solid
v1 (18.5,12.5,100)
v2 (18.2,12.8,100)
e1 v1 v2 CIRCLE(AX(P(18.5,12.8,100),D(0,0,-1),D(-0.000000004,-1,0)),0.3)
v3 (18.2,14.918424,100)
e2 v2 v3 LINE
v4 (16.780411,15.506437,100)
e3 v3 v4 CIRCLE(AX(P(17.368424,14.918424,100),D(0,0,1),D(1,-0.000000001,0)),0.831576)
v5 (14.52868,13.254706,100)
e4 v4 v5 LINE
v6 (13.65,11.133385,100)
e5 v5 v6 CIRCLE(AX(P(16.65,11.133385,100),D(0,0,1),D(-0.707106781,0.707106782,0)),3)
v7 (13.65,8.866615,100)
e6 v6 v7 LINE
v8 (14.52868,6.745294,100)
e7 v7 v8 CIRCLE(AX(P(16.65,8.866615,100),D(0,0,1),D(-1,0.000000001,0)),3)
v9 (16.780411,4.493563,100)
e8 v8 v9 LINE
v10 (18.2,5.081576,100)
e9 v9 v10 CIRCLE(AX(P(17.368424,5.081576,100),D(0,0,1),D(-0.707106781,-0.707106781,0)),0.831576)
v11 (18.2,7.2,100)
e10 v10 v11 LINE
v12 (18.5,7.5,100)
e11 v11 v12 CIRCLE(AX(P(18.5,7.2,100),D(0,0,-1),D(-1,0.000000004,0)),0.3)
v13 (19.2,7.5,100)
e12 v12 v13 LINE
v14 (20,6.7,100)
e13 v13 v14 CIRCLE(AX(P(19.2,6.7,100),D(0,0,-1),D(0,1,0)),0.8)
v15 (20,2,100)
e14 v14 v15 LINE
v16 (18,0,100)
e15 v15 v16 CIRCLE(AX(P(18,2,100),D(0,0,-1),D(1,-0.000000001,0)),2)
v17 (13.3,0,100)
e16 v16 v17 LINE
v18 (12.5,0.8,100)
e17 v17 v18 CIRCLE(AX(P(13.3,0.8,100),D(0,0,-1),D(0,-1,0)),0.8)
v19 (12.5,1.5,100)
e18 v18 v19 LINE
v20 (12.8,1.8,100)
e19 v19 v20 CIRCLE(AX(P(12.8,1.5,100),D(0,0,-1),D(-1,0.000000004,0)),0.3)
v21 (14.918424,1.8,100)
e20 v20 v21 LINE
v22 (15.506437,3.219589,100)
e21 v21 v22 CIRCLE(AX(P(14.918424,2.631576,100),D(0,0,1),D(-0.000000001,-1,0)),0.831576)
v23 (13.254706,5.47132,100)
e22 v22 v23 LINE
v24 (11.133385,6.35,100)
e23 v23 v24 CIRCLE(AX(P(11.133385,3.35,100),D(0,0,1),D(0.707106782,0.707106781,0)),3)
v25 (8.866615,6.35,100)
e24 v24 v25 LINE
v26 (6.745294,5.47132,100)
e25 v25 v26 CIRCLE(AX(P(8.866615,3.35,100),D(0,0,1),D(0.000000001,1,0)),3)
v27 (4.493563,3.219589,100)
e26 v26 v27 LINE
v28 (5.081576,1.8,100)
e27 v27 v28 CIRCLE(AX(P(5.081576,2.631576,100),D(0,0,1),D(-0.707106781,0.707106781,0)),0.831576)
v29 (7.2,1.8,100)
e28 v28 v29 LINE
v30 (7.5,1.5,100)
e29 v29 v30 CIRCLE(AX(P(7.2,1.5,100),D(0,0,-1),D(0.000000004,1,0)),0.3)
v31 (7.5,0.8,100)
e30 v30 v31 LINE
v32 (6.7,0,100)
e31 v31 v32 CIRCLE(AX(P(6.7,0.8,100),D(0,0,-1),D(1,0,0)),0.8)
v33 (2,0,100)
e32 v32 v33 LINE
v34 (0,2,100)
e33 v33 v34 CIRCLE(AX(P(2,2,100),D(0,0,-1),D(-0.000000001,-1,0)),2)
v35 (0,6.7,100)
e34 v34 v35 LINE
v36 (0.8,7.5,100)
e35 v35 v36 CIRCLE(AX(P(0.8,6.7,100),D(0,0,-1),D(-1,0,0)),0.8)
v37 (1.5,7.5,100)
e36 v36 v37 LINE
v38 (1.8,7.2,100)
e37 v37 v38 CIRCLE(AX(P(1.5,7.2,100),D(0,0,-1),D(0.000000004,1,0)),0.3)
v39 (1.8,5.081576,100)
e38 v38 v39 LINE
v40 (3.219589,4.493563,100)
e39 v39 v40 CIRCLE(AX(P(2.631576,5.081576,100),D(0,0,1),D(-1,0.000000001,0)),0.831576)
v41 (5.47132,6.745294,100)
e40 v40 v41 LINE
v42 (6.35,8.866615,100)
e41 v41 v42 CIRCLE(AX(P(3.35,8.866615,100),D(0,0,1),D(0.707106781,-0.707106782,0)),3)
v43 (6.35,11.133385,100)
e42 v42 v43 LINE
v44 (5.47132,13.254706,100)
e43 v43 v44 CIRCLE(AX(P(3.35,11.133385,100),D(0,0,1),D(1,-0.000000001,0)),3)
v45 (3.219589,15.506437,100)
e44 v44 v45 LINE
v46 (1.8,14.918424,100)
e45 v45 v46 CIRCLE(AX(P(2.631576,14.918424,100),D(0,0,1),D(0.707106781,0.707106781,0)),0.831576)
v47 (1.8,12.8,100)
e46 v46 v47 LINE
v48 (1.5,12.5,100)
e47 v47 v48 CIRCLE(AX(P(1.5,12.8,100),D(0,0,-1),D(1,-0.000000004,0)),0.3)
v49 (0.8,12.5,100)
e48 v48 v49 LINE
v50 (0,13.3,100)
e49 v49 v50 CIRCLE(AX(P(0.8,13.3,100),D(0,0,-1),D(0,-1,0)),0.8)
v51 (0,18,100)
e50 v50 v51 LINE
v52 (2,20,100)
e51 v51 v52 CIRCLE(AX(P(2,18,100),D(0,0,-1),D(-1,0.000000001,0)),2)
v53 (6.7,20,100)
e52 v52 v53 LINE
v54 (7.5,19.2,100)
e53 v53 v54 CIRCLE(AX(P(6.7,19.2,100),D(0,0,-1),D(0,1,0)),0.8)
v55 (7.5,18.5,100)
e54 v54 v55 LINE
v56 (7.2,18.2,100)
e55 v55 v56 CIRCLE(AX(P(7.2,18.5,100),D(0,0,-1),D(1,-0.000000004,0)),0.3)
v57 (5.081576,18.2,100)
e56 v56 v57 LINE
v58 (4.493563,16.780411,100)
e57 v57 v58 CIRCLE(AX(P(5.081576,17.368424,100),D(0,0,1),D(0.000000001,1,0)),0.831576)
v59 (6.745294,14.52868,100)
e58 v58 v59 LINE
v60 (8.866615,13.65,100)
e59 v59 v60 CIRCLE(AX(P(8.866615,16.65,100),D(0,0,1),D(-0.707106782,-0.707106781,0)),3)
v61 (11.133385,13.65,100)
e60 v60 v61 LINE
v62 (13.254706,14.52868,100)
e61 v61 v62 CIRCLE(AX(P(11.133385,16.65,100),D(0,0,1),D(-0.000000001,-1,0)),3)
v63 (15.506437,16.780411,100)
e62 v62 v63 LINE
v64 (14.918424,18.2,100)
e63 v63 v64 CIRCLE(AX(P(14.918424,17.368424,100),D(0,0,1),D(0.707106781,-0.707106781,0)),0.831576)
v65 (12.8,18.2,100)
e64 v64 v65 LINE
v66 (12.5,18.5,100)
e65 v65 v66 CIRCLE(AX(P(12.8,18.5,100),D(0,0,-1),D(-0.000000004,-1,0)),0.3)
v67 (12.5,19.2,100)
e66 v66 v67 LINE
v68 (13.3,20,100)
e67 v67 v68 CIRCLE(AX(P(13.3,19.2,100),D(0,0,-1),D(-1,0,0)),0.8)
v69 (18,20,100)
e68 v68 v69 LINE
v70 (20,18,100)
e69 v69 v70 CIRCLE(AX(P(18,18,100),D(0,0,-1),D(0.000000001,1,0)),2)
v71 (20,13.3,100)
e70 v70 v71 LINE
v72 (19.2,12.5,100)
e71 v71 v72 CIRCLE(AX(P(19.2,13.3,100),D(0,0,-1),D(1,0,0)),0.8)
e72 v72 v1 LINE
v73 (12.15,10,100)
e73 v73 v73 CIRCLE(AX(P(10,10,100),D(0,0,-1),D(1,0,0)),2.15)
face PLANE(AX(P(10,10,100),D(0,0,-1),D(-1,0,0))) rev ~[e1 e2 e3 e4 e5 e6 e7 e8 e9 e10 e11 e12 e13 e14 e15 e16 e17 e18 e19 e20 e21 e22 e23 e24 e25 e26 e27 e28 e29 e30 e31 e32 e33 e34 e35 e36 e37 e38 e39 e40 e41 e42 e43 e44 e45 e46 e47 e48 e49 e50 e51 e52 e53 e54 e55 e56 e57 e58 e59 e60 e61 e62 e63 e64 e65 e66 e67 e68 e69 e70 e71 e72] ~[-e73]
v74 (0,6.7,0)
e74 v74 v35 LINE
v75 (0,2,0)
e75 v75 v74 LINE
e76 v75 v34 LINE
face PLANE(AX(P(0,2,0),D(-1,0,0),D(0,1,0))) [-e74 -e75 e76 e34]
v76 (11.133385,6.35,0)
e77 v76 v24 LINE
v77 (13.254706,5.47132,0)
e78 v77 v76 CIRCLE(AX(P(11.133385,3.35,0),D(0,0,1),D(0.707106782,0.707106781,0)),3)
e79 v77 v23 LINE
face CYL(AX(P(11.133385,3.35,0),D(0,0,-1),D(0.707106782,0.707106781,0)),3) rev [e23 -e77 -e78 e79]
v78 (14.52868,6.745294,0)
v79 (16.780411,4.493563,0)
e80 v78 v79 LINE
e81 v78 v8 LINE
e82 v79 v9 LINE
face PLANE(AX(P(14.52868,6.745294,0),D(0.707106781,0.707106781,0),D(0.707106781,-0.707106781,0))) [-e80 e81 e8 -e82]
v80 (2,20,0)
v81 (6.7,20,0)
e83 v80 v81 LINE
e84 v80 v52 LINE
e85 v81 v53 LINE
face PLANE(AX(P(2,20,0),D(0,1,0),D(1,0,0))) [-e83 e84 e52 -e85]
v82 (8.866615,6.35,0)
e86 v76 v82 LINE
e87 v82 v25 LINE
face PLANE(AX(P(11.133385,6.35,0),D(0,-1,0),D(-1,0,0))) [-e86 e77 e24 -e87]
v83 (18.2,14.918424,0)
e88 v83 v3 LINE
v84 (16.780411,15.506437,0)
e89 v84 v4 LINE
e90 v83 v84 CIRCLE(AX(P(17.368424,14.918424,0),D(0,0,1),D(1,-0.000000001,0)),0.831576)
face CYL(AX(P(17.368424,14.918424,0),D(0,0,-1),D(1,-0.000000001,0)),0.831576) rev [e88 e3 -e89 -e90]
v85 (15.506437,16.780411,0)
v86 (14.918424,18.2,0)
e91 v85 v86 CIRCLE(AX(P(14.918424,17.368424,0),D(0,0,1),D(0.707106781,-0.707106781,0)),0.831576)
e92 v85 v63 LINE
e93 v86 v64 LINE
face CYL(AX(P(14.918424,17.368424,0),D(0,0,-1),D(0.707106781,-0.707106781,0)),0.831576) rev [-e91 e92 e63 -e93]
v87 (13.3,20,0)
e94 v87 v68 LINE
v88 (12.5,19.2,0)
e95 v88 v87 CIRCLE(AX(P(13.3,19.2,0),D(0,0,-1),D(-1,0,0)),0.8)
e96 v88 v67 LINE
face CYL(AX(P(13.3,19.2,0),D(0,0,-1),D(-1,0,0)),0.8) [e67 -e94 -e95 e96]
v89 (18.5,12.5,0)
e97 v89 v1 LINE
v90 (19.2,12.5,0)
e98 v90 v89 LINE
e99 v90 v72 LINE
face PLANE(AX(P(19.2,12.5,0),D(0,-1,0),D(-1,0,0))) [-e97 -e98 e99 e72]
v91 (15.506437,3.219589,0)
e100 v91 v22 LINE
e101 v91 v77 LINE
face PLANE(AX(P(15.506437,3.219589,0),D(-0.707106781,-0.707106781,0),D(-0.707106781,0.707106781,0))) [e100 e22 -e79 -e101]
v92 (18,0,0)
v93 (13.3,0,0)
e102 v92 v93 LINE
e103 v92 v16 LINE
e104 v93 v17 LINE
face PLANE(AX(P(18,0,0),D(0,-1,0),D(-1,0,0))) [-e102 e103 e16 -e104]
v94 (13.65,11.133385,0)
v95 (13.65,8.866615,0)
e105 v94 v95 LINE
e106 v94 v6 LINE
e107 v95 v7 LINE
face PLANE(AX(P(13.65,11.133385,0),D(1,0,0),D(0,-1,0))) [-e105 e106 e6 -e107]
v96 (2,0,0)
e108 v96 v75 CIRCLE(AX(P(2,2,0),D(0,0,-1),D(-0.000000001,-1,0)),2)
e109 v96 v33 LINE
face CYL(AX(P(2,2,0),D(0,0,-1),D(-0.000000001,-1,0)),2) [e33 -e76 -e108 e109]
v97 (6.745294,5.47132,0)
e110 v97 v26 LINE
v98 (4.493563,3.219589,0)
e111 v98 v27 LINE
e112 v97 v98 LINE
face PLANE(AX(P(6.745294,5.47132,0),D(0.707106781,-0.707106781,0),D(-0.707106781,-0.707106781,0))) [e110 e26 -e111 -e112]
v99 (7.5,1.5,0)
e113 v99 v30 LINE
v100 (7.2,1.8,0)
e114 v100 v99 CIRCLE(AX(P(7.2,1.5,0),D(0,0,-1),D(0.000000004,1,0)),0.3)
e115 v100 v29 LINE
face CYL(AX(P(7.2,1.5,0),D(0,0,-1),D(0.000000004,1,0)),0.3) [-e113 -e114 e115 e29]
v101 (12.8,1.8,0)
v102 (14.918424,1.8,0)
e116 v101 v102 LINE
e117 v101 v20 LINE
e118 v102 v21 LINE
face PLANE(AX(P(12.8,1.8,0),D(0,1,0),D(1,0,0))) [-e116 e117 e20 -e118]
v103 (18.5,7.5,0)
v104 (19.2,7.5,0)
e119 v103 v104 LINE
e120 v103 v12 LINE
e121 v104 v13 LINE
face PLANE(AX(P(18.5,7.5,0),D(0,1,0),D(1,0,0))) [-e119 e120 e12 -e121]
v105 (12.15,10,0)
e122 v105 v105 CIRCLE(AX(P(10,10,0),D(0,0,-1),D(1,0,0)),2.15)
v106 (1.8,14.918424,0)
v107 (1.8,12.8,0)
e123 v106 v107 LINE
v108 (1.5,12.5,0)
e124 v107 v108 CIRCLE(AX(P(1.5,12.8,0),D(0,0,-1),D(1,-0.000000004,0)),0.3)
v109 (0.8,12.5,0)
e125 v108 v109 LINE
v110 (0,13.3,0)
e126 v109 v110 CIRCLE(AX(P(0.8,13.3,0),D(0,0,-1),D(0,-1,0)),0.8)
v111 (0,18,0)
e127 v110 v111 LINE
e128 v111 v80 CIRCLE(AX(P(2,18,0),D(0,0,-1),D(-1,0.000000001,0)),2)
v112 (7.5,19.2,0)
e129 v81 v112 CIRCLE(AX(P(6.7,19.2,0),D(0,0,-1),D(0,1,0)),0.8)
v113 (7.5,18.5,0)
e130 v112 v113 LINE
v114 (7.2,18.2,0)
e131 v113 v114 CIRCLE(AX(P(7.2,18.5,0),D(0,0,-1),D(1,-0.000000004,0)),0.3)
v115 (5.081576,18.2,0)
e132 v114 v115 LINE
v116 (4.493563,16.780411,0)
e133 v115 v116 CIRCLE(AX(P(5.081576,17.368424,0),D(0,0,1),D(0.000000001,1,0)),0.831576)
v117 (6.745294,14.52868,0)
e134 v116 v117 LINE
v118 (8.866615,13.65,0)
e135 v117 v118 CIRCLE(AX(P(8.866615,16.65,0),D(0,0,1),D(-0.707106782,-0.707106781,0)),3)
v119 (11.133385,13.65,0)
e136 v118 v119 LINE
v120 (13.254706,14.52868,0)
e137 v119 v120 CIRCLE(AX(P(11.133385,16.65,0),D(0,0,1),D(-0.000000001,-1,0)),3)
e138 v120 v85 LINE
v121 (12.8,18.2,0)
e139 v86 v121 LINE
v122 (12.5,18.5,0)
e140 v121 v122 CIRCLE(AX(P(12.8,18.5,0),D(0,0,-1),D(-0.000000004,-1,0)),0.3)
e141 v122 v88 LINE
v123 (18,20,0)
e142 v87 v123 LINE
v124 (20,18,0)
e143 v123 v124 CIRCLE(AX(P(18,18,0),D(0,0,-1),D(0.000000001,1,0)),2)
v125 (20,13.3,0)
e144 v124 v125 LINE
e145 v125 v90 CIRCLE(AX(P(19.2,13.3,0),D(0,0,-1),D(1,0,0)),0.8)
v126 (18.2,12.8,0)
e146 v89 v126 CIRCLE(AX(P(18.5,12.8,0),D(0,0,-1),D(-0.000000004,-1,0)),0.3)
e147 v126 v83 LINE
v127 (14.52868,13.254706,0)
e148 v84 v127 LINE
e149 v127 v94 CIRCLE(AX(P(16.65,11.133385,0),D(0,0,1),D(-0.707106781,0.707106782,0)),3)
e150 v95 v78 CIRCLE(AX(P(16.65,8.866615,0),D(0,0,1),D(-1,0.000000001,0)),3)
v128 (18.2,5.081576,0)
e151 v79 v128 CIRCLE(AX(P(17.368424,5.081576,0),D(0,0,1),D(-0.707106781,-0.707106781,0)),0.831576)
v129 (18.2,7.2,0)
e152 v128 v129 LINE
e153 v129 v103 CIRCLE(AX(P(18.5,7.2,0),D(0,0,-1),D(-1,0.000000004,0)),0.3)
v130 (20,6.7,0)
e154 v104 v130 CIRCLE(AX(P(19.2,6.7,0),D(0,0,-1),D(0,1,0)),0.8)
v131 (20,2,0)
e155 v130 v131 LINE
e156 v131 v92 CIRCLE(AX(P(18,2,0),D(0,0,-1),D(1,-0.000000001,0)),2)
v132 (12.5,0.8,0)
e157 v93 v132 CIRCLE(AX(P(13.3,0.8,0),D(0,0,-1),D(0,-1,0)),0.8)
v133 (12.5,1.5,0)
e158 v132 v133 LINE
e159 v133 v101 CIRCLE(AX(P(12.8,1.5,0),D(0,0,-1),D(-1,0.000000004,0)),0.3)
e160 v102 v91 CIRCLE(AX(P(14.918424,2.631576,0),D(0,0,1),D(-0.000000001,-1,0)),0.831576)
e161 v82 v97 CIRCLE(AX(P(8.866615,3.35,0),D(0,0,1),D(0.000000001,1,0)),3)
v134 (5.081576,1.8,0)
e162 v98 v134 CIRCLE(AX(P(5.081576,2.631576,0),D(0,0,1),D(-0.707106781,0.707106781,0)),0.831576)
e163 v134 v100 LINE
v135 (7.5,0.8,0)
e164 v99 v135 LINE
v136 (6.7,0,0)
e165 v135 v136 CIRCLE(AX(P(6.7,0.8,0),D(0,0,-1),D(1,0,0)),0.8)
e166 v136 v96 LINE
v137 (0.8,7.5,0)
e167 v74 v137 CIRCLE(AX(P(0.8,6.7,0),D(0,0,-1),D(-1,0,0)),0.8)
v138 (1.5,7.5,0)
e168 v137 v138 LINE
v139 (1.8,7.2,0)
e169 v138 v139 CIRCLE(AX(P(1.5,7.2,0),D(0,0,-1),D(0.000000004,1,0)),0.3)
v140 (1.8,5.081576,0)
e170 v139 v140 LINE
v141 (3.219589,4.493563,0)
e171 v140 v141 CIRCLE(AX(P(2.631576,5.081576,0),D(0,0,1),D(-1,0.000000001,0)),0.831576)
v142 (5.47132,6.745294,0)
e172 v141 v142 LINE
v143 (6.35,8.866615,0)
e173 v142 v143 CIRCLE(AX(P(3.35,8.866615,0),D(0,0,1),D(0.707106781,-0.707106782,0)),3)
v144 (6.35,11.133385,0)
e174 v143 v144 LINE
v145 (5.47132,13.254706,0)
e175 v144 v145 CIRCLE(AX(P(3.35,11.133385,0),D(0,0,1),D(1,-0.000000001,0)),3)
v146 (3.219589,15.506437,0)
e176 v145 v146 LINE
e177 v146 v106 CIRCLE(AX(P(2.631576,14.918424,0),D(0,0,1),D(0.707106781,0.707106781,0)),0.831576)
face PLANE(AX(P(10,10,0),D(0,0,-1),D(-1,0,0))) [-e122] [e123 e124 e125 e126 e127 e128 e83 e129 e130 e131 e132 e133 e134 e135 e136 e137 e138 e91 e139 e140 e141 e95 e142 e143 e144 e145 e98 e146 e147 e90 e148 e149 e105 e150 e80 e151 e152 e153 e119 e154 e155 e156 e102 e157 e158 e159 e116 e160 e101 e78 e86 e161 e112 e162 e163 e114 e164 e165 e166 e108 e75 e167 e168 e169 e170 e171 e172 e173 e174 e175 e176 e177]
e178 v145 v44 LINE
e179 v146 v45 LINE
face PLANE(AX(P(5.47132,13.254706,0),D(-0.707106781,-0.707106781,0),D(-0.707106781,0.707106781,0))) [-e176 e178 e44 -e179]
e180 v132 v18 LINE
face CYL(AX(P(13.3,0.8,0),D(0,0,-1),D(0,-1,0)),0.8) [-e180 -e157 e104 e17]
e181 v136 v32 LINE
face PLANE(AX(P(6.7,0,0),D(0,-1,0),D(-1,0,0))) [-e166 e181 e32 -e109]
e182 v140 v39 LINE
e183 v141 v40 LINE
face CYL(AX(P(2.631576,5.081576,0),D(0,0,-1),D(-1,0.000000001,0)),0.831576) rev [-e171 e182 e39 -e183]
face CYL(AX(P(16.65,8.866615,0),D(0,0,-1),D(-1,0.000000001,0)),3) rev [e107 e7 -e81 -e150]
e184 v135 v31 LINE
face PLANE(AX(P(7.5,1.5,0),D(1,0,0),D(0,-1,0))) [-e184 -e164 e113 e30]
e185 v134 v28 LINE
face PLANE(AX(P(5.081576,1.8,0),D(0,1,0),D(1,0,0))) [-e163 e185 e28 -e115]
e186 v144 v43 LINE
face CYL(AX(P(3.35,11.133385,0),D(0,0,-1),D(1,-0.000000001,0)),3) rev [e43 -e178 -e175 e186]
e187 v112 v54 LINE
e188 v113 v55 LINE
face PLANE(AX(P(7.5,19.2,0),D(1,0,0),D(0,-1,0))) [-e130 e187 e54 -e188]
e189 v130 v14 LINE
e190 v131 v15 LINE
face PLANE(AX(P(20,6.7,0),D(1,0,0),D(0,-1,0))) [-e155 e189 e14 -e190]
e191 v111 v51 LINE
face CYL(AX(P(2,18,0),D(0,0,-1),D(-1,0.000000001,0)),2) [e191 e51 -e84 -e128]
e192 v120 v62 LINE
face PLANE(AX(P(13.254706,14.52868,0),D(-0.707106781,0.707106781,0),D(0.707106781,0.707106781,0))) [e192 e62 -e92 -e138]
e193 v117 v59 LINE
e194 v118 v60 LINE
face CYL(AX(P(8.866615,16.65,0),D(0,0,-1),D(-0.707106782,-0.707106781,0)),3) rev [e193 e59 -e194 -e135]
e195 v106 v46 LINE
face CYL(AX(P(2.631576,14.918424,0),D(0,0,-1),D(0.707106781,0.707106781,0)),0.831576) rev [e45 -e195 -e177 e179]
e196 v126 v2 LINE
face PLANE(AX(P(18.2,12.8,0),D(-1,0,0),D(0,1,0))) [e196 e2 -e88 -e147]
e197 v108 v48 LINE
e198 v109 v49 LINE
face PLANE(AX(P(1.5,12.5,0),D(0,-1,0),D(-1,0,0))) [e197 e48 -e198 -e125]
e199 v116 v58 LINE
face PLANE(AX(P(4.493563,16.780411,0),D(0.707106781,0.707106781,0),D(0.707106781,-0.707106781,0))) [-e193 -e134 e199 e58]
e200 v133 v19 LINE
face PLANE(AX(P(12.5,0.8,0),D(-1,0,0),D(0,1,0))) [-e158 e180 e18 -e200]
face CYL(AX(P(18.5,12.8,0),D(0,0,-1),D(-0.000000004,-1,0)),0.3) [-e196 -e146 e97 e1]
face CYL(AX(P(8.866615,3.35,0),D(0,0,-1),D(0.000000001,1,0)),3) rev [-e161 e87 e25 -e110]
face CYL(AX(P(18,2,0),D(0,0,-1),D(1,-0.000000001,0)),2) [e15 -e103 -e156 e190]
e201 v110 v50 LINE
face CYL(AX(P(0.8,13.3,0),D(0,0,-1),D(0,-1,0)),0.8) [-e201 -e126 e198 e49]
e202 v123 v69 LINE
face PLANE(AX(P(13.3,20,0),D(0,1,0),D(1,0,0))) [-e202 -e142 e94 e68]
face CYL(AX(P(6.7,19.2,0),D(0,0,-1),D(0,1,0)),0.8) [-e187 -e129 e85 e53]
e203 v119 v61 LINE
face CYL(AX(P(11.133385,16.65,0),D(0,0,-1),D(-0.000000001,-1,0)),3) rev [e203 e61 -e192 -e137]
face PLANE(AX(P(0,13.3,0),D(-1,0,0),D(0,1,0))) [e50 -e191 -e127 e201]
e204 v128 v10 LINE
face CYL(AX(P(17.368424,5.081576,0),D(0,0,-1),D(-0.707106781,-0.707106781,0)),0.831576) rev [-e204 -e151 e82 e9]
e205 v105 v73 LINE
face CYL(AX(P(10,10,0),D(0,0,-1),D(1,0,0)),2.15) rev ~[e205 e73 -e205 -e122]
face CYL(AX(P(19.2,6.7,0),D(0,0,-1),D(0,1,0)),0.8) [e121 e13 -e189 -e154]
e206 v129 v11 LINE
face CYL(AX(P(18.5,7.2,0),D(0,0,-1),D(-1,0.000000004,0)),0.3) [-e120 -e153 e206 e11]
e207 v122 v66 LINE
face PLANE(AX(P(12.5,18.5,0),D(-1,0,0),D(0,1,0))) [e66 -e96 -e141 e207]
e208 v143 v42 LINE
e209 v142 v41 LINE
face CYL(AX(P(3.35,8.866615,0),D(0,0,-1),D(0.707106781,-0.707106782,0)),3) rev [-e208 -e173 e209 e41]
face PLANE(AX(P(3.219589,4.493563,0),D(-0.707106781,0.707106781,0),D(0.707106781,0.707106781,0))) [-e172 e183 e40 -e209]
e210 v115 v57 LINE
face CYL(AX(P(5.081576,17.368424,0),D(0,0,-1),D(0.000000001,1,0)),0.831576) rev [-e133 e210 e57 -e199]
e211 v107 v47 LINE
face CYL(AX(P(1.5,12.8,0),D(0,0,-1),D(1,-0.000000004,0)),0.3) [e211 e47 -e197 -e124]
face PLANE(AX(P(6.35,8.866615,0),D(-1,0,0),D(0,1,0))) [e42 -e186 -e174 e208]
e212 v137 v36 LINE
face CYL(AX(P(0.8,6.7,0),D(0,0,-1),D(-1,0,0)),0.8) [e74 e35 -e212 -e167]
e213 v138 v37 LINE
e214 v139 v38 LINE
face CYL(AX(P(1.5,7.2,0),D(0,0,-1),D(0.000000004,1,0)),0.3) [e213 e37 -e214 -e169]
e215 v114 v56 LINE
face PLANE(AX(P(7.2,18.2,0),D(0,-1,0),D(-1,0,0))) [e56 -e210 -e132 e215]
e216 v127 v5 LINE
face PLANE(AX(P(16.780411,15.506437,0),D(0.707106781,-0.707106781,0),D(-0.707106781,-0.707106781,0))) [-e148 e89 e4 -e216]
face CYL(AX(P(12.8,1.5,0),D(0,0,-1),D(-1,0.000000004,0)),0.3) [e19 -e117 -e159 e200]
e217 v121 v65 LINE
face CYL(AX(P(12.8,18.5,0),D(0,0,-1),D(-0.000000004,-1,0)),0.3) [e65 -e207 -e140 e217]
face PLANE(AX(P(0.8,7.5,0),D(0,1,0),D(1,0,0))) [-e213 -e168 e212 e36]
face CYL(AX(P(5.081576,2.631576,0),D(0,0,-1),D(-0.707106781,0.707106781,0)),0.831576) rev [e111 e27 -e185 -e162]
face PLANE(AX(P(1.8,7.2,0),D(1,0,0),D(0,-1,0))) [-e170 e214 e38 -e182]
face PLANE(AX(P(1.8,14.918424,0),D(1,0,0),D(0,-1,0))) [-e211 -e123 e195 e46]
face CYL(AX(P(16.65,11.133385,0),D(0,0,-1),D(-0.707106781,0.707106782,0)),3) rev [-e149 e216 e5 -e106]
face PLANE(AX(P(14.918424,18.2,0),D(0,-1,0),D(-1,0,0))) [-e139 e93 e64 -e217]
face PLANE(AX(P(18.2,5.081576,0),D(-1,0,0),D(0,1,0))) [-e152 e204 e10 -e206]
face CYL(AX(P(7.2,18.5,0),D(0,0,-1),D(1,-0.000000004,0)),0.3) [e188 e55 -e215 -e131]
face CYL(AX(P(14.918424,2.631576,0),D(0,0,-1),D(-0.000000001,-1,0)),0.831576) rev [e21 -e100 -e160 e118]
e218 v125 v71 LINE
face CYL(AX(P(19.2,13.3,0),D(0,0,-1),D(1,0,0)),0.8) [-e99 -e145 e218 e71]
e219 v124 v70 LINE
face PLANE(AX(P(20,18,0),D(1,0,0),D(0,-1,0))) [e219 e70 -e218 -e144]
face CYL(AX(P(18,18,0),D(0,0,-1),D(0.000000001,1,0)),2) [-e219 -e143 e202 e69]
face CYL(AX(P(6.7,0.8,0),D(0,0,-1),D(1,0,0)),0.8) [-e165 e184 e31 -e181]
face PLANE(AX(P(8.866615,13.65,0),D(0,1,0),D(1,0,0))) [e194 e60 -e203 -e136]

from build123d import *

# Parameters (mm, degrees)
ESQUISSE1_R      = 2.15
EXTRUSION1_DEPTH = 100


with BuildPart() as part:
    # Esquisse1 → Extrusion1 (new body)
    with BuildSketch(Plane(origin=(0, 0, 0), x_dir=(-1, 0, 0), z_dir=(0, 0, -1))):
        with BuildLine():
            Line((-18, 0), (-13.3, 0))
            ThreePointArc((-13.3, 0), (-12.734314575, 0.234314575), (-12.5, 0.8))
            Line((-12.5, 0.8), (-12.5, 1.5))
            ThreePointArc((-12.5, 1.5), (-12.587867966, 1.712132034), (-12.8, 1.8))
            Line((-12.8, 1.8), (-14.918424061, 1.8))
            ThreePointArc((-14.918424061, 1.8), (-15.686700051, 2.313345604), (-15.506437047, 3.219588924))
            Line((-15.506437047, 3.219588924), (-13.254705627, 5.471320344))
            ThreePointArc((-13.254705627, 5.471320344), (-12.281435581, 6.121638598), (-11.133385284, 6.35))
            Line((-11.133385284, 6.35), (-8.866614716, 6.35))
            ThreePointArc((-8.866614716, 6.35), (-7.718564419, 6.121638598), (-6.745294373, 5.471320344))
            Line((-6.745294373, 5.471320344), (-4.493562953, 3.219588924))
            ThreePointArc((-4.493562953, 3.219588924), (-4.313299949, 2.313345604), (-5.081575939, 1.8))
            Line((-5.081575939, 1.8), (-7.2, 1.8))
            ThreePointArc((-7.2, 1.8), (-7.412132034, 1.712132034), (-7.5, 1.5))
            Line((-7.5, 1.5), (-7.5, 0.8))
            ThreePointArc((-7.5, 0.8), (-7.265685425, 0.234314575), (-6.7, 0))
            Line((-6.7, 0), (-2, 0))
            ThreePointArc((-2, 0), (-0.585786438, 0.585786438), (0, 2))
            Line((0, 2), (0, 6.7))
            ThreePointArc((0, 6.7), (-0.234314575, 7.265685425), (-0.8, 7.5))
            Line((-0.8, 7.5), (-1.5, 7.5))
            ThreePointArc((-1.5, 7.5), (-1.712132034, 7.412132034), (-1.8, 7.2))
            Line((-1.8, 7.2), (-1.8, 5.081575939))
            ThreePointArc((-1.8, 5.081575939), (-2.313345604, 4.313299949), (-3.219588924, 4.493562953))
            Line((-3.219588924, 4.493562953), (-5.471320344, 6.745294373))
            ThreePointArc((-5.471320344, 6.745294373), (-6.121638598, 7.718564419), (-6.35, 8.866614716))
            Line((-6.35, 8.866614716), (-6.35, 11.133385284))
            ThreePointArc((-6.35, 11.133385284), (-6.121638598, 12.281435581), (-5.471320344, 13.254705627))
            Line((-5.471320344, 13.254705627), (-3.219588924, 15.506437047))
            ThreePointArc((-3.219588924, 15.506437047), (-2.313345604, 15.686700051), (-1.8, 14.918424061))
            Line((-1.8, 14.918424061), (-1.8, 12.8))
            ThreePointArc((-1.8, 12.8), (-1.712132034, 12.587867966), (-1.5, 12.5))
            Line((-1.5, 12.5), (-0.8, 12.5))
            ThreePointArc((-0.8, 12.5), (-0.234314575, 12.734314575), (0, 13.3))
            Line((0, 13.3), (0, 18))
            ThreePointArc((0, 18), (-0.585786438, 19.414213562), (-2, 20))
            Line((-2, 20), (-6.7, 20))
            ThreePointArc((-6.7, 20), (-7.265685425, 19.765685425), (-7.5, 19.2))
            Line((-7.5, 19.2), (-7.5, 18.5))
            ThreePointArc((-7.5, 18.5), (-7.412132034, 18.287867966), (-7.2, 18.2))
            Line((-7.2, 18.2), (-5.081575939, 18.2))
            ThreePointArc((-5.081575939, 18.2), (-4.313299949, 17.686654396), (-4.493562953, 16.780411076))
            Line((-4.493562953, 16.780411076), (-6.745294373, 14.528679656))
            ThreePointArc((-6.745294373, 14.528679656), (-7.718564419, 13.878361402), (-8.866614716, 13.65))
            Line((-8.866614716, 13.65), (-11.133385284, 13.65))
            ThreePointArc((-11.133385284, 13.65), (-12.281435581, 13.878361402), (-13.254705627, 14.528679656))
            Line((-13.254705627, 14.528679656), (-15.506437047, 16.780411076))
            ThreePointArc((-15.506437047, 16.780411076), (-15.686700051, 17.686654396), (-14.918424061, 18.2))
            Line((-14.918424061, 18.2), (-12.8, 18.2))
            ThreePointArc((-12.8, 18.2), (-12.587867966, 18.287867966), (-12.5, 18.5))
            Line((-12.5, 18.5), (-12.5, 19.2))
            ThreePointArc((-12.5, 19.2), (-12.734314575, 19.765685425), (-13.3, 20))
            Line((-13.3, 20), (-18, 20))
            ThreePointArc((-18, 20), (-19.414213562, 19.414213562), (-20, 18))
            Line((-20, 18), (-20, 13.3))
            ThreePointArc((-20, 13.3), (-19.765685425, 12.734314575), (-19.2, 12.5))
            Line((-19.2, 12.5), (-18.5, 12.5))
            ThreePointArc((-18.5, 12.5), (-18.287867966, 12.587867966), (-18.2, 12.8))
            Line((-18.2, 12.8), (-18.2, 14.918424061))
            ThreePointArc((-18.2, 14.918424061), (-17.686654396, 15.686700051), (-16.780411076, 15.506437047))
            Line((-16.780411076, 15.506437047), (-14.528679656, 13.254705627))
            ThreePointArc((-14.528679656, 13.254705627), (-13.878361402, 12.281435581), (-13.65, 11.133385284))
            Line((-13.65, 11.133385284), (-13.65, 8.866614716))
            ThreePointArc((-13.65, 8.866614716), (-13.878361402, 7.718564419), (-14.528679656, 6.745294373))
            Line((-14.528679656, 6.745294373), (-16.780411076, 4.493562953))
            ThreePointArc((-16.780411076, 4.493562953), (-17.686654396, 4.313299949), (-18.2, 5.081575939))
            Line((-18.2, 5.081575939), (-18.2, 7.2))
            ThreePointArc((-18.2, 7.2), (-18.287867966, 7.412132034), (-18.5, 7.5))
            Line((-18.5, 7.5), (-19.2, 7.5))
            ThreePointArc((-19.2, 7.5), (-19.765685425, 7.265685425), (-20, 6.7))
            Line((-20, 6.7), (-20, 2))
            ThreePointArc((-20, 2), (-19.414213562, 0.585786438), (-18, 0))
        make_face()
        with Locations(Location((-10, 10, 0), (0, 0, 180))):
            Circle(ESQUISSE1_R, mode=Mode.SUBTRACT)
    extrude(amount=-EXTRUSION1_DEPTH)


solid = part.part
